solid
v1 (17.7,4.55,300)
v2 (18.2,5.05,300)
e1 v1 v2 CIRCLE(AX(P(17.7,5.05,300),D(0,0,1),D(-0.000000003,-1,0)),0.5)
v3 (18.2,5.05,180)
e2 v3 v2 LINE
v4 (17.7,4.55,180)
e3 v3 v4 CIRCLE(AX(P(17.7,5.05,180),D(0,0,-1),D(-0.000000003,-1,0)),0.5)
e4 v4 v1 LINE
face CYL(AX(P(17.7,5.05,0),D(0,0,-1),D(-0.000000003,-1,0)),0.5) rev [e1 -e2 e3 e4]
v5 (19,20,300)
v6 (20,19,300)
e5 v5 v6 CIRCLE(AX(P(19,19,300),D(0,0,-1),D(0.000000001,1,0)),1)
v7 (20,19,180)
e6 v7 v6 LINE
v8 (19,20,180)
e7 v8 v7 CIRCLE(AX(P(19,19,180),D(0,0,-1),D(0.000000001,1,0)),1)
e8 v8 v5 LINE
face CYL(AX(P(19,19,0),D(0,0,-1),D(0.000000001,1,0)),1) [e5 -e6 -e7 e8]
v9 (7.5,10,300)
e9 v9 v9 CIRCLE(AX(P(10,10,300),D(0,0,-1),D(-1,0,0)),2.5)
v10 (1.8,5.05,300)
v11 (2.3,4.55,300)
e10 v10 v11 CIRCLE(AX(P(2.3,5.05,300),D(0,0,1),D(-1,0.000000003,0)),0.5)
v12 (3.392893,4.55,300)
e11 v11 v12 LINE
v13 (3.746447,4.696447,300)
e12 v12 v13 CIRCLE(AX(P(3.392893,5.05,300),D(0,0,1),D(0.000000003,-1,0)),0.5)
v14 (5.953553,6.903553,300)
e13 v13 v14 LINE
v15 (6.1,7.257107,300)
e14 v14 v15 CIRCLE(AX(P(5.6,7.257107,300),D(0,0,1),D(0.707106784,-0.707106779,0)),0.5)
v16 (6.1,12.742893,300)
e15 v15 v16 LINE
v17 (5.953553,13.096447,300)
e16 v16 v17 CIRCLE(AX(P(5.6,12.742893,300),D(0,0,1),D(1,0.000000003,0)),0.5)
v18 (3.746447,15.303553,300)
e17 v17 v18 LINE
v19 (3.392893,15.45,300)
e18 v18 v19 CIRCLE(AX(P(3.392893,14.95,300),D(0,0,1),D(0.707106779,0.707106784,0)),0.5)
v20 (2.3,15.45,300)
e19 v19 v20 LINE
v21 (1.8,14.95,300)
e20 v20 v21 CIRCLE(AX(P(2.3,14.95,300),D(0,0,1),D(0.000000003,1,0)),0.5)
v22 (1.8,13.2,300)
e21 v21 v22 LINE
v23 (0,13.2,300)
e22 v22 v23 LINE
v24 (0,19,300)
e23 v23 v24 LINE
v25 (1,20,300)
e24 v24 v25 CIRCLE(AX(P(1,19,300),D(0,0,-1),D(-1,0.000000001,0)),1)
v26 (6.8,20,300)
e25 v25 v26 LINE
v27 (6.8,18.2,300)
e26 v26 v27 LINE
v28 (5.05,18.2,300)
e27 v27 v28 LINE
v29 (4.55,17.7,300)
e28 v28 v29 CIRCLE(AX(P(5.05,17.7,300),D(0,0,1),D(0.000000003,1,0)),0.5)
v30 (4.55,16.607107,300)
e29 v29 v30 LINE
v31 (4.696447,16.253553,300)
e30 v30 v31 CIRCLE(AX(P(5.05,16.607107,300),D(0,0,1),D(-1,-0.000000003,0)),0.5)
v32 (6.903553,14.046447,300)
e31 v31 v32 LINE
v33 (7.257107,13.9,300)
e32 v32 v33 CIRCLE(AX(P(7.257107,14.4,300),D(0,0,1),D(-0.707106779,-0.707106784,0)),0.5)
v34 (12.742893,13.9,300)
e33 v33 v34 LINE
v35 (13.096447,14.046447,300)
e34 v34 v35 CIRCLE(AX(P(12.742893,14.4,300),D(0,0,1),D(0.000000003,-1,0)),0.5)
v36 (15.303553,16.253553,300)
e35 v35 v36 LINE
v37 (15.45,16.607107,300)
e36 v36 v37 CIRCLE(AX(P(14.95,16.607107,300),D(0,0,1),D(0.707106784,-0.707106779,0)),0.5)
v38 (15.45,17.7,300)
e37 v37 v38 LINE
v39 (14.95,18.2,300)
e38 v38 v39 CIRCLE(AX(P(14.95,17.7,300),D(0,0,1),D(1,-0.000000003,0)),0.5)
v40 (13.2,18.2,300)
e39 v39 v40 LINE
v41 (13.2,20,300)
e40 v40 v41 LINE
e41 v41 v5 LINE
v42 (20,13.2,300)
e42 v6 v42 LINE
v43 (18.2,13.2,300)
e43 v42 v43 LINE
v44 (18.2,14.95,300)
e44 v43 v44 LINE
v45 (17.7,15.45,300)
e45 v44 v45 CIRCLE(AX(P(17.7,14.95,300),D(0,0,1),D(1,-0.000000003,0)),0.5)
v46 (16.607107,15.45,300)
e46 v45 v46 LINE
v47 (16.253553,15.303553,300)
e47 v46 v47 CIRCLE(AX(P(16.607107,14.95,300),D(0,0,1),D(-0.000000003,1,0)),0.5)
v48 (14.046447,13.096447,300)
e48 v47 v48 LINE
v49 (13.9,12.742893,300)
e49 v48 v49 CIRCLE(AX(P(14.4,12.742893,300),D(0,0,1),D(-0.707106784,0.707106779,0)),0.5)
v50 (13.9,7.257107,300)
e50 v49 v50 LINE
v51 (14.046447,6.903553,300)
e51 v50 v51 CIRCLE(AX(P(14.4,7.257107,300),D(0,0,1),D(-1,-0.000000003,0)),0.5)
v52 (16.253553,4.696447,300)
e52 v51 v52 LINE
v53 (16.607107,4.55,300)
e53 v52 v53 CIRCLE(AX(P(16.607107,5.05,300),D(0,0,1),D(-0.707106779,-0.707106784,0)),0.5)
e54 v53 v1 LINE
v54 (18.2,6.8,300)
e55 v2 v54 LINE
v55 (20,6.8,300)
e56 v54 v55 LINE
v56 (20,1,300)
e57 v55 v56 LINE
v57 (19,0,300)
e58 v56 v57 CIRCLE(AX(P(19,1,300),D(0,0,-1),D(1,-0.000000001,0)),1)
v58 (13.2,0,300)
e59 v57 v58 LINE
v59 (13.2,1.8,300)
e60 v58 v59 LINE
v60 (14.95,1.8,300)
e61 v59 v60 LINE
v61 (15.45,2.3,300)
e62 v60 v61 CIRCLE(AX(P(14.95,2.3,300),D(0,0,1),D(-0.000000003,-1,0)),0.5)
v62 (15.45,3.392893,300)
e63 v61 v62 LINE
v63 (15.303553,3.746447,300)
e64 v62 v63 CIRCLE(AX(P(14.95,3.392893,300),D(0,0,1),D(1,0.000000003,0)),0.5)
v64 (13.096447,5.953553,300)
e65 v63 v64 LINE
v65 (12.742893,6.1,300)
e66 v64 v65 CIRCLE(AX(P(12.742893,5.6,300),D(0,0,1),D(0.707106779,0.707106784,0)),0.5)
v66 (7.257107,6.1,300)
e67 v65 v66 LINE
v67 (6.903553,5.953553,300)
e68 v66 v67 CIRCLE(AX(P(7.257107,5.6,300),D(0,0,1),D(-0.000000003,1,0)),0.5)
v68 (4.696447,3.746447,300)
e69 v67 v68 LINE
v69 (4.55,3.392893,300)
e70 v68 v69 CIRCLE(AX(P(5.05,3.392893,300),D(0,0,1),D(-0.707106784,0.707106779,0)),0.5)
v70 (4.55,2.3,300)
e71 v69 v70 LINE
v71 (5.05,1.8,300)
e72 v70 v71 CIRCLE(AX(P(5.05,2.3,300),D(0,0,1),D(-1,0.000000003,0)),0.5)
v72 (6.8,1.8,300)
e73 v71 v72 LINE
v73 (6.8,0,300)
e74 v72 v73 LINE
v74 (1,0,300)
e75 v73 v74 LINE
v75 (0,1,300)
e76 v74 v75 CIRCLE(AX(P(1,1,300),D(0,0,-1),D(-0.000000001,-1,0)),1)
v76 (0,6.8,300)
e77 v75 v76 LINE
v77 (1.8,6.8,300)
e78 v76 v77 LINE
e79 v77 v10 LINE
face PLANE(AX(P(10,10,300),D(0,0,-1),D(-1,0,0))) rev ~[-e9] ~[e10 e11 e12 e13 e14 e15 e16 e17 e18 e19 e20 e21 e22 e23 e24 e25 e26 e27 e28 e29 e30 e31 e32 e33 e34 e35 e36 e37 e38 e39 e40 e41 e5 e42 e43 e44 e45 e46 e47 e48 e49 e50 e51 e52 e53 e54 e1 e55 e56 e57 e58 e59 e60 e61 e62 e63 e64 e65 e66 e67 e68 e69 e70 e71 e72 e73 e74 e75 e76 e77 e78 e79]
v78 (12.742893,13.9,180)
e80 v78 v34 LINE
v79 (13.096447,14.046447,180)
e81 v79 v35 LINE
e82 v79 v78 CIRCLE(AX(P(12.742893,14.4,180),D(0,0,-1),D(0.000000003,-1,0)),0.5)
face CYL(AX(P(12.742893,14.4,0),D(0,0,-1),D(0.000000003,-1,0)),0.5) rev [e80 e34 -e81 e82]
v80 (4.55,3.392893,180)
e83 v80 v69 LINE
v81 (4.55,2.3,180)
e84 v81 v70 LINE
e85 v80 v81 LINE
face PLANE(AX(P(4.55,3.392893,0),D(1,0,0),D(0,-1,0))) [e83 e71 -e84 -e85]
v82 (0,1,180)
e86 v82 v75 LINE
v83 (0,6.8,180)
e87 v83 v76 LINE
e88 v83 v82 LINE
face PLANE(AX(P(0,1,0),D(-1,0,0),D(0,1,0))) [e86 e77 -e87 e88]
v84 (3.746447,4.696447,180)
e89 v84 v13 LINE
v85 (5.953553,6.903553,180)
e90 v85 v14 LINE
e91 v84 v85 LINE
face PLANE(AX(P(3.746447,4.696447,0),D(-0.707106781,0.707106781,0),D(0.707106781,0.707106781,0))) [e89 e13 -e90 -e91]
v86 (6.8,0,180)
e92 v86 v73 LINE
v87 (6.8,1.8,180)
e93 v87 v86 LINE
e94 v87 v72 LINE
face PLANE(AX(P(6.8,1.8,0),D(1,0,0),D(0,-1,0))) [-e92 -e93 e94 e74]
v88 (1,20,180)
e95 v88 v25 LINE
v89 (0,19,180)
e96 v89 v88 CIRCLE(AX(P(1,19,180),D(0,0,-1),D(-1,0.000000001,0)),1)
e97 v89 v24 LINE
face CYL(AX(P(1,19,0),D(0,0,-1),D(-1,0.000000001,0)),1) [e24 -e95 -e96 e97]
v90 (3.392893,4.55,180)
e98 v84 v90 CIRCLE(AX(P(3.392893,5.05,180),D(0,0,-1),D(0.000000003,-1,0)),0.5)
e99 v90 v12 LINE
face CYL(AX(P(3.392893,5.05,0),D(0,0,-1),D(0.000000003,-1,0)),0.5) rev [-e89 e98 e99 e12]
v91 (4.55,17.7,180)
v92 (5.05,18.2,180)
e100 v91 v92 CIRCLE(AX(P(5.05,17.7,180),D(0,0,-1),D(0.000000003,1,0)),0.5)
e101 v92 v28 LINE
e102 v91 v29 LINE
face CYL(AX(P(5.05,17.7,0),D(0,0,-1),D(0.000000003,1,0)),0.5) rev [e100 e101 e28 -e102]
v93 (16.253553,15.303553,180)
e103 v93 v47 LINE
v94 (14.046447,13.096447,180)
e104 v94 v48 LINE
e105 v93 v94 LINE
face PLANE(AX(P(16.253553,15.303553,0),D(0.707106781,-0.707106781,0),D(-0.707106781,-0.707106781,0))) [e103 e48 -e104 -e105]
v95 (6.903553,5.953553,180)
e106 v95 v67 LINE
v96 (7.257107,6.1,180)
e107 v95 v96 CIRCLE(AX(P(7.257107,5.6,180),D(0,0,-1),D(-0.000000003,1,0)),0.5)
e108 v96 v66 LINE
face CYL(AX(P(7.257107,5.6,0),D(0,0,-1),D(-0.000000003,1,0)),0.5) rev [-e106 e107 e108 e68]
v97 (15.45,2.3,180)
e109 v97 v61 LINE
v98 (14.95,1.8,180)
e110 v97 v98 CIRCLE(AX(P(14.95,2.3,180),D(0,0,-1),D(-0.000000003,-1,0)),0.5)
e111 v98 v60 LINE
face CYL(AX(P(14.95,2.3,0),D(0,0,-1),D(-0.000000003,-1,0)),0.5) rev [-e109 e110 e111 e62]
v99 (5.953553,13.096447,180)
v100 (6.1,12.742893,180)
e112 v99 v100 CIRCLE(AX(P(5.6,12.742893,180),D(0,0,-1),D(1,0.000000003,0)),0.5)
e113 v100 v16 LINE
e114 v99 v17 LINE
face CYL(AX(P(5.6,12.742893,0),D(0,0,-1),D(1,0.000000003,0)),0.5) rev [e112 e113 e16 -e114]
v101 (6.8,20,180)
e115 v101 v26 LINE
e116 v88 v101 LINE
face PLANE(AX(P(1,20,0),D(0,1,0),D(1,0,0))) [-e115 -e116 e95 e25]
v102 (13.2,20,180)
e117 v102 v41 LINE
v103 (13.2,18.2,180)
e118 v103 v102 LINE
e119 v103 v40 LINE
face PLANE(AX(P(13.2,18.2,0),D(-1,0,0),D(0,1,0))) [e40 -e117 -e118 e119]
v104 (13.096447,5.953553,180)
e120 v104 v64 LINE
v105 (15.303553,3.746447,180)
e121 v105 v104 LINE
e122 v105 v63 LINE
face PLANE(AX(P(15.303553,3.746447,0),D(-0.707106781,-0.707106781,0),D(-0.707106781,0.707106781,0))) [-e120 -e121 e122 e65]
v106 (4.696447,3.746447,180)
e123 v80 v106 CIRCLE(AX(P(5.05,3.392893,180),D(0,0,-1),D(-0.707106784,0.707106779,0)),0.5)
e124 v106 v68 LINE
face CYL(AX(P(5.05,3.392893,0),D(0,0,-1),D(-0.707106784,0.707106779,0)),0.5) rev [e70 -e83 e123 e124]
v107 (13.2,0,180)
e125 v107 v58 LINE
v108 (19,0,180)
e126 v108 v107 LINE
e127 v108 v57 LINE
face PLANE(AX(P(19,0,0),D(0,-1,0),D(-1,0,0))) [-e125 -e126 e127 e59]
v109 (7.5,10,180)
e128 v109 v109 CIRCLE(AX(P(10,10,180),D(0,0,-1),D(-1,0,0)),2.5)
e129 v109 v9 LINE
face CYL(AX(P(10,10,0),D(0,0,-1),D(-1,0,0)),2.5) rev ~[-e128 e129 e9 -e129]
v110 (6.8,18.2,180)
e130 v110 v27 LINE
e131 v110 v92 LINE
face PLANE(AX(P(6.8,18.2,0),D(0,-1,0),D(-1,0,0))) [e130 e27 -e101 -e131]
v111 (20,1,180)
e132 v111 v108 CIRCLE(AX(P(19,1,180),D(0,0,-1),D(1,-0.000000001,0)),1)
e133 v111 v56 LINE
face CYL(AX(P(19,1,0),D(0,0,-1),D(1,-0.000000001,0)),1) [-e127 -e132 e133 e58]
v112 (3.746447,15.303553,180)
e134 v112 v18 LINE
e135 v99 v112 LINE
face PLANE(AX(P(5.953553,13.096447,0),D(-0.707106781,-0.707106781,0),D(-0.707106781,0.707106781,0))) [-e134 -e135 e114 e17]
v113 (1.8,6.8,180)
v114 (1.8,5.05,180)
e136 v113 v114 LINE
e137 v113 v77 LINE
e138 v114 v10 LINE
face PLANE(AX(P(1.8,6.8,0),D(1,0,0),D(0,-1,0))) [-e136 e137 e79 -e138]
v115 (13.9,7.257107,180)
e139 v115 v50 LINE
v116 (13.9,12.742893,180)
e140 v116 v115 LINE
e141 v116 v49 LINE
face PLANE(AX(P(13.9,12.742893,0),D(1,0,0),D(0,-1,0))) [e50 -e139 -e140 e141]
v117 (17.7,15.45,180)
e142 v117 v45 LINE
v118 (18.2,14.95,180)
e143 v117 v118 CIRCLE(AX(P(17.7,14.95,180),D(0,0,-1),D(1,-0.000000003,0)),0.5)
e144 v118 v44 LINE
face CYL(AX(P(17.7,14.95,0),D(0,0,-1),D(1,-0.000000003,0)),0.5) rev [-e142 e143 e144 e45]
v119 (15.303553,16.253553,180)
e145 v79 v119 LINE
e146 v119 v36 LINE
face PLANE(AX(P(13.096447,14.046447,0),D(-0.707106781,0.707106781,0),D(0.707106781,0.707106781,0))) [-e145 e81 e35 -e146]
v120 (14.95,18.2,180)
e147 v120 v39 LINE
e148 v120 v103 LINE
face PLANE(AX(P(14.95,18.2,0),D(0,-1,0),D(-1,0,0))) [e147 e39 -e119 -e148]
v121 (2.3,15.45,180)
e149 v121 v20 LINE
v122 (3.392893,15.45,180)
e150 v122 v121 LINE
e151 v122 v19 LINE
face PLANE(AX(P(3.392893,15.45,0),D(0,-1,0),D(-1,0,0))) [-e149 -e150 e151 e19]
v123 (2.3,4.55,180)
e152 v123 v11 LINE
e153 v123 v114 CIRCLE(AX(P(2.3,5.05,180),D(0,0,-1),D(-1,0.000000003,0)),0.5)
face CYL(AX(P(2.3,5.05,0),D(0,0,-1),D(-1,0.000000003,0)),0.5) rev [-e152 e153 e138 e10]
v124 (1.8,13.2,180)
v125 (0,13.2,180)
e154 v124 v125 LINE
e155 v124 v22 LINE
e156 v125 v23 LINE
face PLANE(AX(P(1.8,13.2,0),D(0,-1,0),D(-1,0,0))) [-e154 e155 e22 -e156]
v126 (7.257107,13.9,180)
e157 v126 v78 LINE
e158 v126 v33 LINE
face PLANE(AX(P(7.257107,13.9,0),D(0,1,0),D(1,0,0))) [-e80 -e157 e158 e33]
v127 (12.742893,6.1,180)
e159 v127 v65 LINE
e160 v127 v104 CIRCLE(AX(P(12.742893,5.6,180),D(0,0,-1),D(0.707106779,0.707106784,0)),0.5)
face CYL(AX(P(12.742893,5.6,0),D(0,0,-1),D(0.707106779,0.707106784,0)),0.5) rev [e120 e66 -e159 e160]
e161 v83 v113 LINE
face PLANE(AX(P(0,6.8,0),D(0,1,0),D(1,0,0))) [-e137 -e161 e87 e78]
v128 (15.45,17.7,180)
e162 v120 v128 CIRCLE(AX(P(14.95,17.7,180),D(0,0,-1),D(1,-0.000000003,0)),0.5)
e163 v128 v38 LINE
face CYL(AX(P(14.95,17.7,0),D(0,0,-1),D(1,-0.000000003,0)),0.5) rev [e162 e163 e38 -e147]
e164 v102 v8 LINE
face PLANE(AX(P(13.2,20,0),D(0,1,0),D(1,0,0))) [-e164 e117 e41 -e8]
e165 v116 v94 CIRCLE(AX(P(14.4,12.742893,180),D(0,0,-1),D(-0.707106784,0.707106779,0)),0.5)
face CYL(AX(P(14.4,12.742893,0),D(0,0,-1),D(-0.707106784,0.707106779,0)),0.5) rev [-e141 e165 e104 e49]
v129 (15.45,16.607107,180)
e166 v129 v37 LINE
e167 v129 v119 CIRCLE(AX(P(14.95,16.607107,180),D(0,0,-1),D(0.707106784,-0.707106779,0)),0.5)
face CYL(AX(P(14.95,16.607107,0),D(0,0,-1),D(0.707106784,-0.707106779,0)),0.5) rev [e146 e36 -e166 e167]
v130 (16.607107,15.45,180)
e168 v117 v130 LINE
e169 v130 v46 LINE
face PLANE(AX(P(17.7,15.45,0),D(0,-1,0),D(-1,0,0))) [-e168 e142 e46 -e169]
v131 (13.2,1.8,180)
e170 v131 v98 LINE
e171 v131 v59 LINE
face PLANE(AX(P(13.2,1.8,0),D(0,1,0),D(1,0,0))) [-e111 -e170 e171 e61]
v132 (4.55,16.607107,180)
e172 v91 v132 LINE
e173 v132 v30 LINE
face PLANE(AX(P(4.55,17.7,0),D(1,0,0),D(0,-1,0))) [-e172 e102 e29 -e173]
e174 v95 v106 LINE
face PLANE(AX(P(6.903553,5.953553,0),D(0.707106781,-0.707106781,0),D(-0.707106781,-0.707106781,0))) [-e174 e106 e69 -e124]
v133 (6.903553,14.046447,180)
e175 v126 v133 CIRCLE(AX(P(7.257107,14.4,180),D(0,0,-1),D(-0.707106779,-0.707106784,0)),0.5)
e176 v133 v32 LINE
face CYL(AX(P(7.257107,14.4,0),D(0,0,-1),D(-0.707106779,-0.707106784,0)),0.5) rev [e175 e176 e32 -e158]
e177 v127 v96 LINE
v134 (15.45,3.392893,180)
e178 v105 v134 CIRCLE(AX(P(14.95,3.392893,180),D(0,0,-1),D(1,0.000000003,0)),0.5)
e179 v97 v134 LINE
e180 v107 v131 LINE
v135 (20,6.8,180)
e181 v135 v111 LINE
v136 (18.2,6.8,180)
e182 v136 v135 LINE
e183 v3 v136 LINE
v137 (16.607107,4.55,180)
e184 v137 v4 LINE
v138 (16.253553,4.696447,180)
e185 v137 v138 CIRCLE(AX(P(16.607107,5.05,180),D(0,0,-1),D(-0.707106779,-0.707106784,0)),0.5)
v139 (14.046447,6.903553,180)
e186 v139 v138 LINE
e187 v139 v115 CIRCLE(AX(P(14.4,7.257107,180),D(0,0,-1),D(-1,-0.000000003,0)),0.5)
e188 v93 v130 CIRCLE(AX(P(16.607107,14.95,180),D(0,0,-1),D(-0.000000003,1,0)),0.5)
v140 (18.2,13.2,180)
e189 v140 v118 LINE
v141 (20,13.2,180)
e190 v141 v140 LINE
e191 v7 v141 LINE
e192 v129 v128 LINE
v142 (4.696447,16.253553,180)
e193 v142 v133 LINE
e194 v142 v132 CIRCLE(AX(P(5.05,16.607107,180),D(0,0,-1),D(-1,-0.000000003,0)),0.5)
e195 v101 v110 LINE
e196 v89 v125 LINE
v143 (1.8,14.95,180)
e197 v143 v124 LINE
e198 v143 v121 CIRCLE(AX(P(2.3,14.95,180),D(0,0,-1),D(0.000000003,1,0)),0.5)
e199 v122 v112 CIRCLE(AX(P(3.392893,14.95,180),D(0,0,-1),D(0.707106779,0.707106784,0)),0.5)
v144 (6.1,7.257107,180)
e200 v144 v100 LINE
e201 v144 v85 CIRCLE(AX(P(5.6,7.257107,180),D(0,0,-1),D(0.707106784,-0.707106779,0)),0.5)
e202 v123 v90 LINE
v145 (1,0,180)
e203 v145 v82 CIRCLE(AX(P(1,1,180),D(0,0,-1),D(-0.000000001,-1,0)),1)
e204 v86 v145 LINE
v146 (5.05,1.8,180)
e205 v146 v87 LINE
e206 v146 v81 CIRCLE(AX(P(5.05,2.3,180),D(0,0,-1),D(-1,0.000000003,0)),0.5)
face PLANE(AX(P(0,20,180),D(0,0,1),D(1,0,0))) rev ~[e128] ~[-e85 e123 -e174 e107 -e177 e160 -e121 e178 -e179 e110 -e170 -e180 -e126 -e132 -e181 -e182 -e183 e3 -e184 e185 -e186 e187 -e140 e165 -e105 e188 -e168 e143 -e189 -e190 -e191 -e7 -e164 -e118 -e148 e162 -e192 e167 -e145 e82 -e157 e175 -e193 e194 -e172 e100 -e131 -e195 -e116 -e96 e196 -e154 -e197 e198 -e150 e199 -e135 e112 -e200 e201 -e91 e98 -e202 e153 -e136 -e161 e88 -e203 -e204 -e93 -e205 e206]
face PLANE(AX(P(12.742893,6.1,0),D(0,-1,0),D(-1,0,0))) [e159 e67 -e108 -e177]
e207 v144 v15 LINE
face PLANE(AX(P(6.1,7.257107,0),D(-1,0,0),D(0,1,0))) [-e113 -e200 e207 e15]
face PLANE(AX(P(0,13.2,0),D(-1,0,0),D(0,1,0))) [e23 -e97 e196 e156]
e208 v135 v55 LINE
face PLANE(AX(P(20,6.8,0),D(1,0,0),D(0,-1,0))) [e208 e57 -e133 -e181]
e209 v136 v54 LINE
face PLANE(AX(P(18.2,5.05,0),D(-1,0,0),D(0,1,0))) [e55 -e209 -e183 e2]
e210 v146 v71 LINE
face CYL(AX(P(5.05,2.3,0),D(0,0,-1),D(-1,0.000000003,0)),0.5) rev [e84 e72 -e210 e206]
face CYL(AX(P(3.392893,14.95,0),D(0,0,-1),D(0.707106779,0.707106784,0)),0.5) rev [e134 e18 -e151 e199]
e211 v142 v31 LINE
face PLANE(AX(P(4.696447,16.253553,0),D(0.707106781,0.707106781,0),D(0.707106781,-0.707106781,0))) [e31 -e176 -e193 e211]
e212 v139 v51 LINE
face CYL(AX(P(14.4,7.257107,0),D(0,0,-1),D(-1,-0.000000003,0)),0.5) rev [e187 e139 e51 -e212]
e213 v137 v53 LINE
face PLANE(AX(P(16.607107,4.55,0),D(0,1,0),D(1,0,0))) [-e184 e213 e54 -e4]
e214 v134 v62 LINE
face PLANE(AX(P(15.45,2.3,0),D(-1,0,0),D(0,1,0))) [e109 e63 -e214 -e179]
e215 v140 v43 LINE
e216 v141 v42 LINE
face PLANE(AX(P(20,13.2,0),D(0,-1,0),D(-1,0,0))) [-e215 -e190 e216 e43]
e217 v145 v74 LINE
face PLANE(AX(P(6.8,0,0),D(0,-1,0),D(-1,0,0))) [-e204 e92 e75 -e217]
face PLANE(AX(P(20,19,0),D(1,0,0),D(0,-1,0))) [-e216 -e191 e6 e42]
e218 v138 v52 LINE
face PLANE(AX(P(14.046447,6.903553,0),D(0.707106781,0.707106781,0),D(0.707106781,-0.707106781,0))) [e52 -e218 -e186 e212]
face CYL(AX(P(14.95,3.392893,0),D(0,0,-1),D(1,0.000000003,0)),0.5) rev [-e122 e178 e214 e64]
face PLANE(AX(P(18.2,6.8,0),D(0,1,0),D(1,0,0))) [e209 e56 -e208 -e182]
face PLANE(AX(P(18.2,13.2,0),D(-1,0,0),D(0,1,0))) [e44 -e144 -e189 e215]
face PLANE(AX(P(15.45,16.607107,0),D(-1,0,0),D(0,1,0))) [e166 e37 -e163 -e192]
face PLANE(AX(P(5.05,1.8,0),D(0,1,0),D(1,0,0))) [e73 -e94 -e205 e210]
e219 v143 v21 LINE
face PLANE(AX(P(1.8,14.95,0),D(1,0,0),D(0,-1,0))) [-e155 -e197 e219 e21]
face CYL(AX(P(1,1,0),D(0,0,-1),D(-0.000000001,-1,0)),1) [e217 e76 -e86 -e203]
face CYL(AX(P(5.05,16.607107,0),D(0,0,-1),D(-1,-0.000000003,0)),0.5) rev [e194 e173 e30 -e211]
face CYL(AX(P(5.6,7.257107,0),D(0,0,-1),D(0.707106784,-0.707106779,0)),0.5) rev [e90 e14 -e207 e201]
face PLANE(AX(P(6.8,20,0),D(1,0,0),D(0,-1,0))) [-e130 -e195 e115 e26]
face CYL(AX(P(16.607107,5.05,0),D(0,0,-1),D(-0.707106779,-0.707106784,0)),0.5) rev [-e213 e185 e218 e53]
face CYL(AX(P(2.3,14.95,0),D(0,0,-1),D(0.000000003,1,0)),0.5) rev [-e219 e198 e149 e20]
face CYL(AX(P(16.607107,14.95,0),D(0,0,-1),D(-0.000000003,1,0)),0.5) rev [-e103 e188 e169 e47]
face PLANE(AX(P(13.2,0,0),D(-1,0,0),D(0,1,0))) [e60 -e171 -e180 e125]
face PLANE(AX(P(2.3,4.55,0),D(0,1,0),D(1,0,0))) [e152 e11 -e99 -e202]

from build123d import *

# Parameters (mm, degrees)
SKETCH1_R           = 2.5
BOSS_EXTRUDE1_DEPTH = 300
SKETCH2_W           = 20
SKETCH2_H           = 180
CUT_EXTRUDE1_DEPTH  = 30


with BuildPart() as part:
    # Sketch1 → Boss-Extrude1 (new body)
    with BuildSketch(Plane(origin=(0, 0, 0), x_dir=(-1, 0, 0), z_dir=(0, 0, -1))):
        with BuildLine():
            Line((-20, 19), (-20, 13.2))
            Line((-20, 13.2), (-18.2, 13.2))
            Line((-18.2, 13.2), (-18.2, 14.95))
            ThreePointArc((-18.2, 14.95), (-18.053553391, 15.303553391), (-17.7, 15.45))
            Line((-17.7, 15.45), (-16.607106781, 15.45))
            ThreePointArc((-16.607106781, 15.45), (-16.415765065, 15.411939766), (-16.253553391, 15.303553391))
            Line((-16.253553391, 15.303553391), (-14.046446609, 13.096446609))
            ThreePointArc((-14.046446609, 13.096446609), (-13.938060234, 12.934234935), (-13.9, 12.742893219))
            Line((-13.9, 12.742893219), (-13.9, 7.257106781))
            ThreePointArc((-13.9, 7.257106781), (-13.938060234, 7.065765065), (-14.046446609, 6.903553391))
            Line((-14.046446609, 6.903553391), (-16.253553391, 4.696446609))
            ThreePointArc((-16.253553391, 4.696446609), (-16.415765065, 4.588060234), (-16.607106781, 4.55))
            Line((-16.607106781, 4.55), (-17.7, 4.55))
            ThreePointArc((-17.7, 4.55), (-18.053553391, 4.696446609), (-18.2, 5.05))
            Line((-18.2, 5.05), (-18.2, 6.8))
            Line((-18.2, 6.8), (-20, 6.8))
            Line((-20, 6.8), (-20, 1))
            ThreePointArc((-20, 1), (-19.707106781, 0.292893219), (-19, 0))
            Line((-19, 0), (-13.2, 0))
            Line((-13.2, 0), (-13.2, 1.8))
            Line((-13.2, 1.8), (-14.95, 1.8))
            ThreePointArc((-14.95, 1.8), (-15.303553391, 1.946446609), (-15.45, 2.3))
            Line((-15.45, 2.3), (-15.45, 3.392893219))
            ThreePointArc((-15.45, 3.392893219), (-15.411939766, 3.584234935), (-15.303553391, 3.746446609))
            Line((-15.303553391, 3.746446609), (-13.096446609, 5.953553391))
            ThreePointArc((-13.096446609, 5.953553391), (-12.934234935, 6.061939766), (-12.742893219, 6.1))
            Line((-12.742893219, 6.1), (-7.257106781, 6.1))
            ThreePointArc((-7.257106781, 6.1), (-7.065765065, 6.061939766), (-6.903553391, 5.953553391))
            Line((-6.903553391, 5.953553391), (-4.696446609, 3.746446609))
            ThreePointArc((-4.696446609, 3.746446609), (-4.588060234, 3.584234935), (-4.55, 3.392893219))
            Line((-4.55, 3.392893219), (-4.55, 2.3))
            ThreePointArc((-4.55, 2.3), (-4.696446609, 1.946446609), (-5.05, 1.8))
            Line((-5.05, 1.8), (-6.8, 1.8))
            Line((-6.8, 1.8), (-6.8, 0))
            Line((-6.8, 0), (-1, 0))
            ThreePointArc((-1, 0), (-0.292893219, 0.292893219), (0, 1))
            Line((0, 1), (0, 6.8))
            Line((0, 6.8), (-1.8, 6.8))
            Line((-1.8, 6.8), (-1.8, 5.05))
            ThreePointArc((-1.8, 5.05), (-1.946446609, 4.696446609), (-2.3, 4.55))
            Line((-2.3, 4.55), (-3.392893219, 4.55))
            ThreePointArc((-3.392893219, 4.55), (-3.584234935, 4.588060234), (-3.746446609, 4.696446609))
            Line((-3.746446609, 4.696446609), (-5.953553391, 6.903553391))
            ThreePointArc((-5.953553391, 6.903553391), (-6.061939766, 7.065765065), (-6.1, 7.257106781))
            Line((-6.1, 7.257106781), (-6.1, 12.742893219))
            ThreePointArc((-6.1, 12.742893219), (-6.061939766, 12.934234935), (-5.953553391, 13.096446609))
            Line((-5.953553391, 13.096446609), (-3.746446609, 15.303553391))
            ThreePointArc((-3.746446609, 15.303553391), (-3.584234935, 15.411939766), (-3.392893219, 15.45))
            Line((-3.392893219, 15.45), (-2.3, 15.45))
            ThreePointArc((-2.3, 15.45), (-1.946446609, 15.303553391), (-1.8, 14.95))
            Line((-1.8, 14.95), (-1.8, 13.2))
            Line((-1.8, 13.2), (0, 13.2))
            Line((0, 13.2), (0, 19))
            ThreePointArc((0, 19), (-0.292893219, 19.707106781), (-1, 20))
            Line((-1, 20), (-6.8, 20))
            Line((-6.8, 20), (-6.8, 18.2))
            Line((-6.8, 18.2), (-5.05, 18.2))
            ThreePointArc((-5.05, 18.2), (-4.696446609, 18.053553391), (-4.55, 17.7))
            Line((-4.55, 17.7), (-4.55, 16.607106781))
            ThreePointArc((-4.55, 16.607106781), (-4.588060234, 16.415765065), (-4.696446609, 16.253553391))
            Line((-4.696446609, 16.253553391), (-6.903553391, 14.046446609))
            ThreePointArc((-6.903553391, 14.046446609), (-7.065765065, 13.938060234), (-7.257106781, 13.9))
            Line((-7.257106781, 13.9), (-12.742893219, 13.9))
            ThreePointArc((-12.742893219, 13.9), (-12.934234935, 13.938060234), (-13.096446609, 14.046446609))
            Line((-13.096446609, 14.046446609), (-15.303553391, 16.253553391))
            ThreePointArc((-15.303553391, 16.253553391), (-15.411939766, 16.415765065), (-15.45, 16.607106781))
            Line((-15.45, 16.607106781), (-15.45, 17.7))
            ThreePointArc((-15.45, 17.7), (-15.303553391, 18.053553391), (-14.95, 18.2))
            Line((-14.95, 18.2), (-13.2, 18.2))
            Line((-13.2, 18.2), (-13.2, 20))
            Line((-13.2, 20), (-19, 20))
            ThreePointArc((-19, 20), (-19.707106781, 19.707106781), (-20, 19))
        make_face()
        with Locations((-10, 10)):
            Circle(SKETCH1_R, mode=Mode.SUBTRACT)
    extrude(amount=-BOSS_EXTRUDE1_DEPTH)

    # Sketch2 → Cut-Extrude1 (cut)
    with BuildSketch(Plane(origin=(0, 20, 0), x_dir=(1, 0, 0), z_dir=(0, 1, 0))):
        with Locations((10, -90)):
            Rectangle(SKETCH2_W, SKETCH2_H)
    extrude(amount=-CUT_EXTRUDE1_DEPTH, mode=Mode.SUBTRACT)


solid = part.part
